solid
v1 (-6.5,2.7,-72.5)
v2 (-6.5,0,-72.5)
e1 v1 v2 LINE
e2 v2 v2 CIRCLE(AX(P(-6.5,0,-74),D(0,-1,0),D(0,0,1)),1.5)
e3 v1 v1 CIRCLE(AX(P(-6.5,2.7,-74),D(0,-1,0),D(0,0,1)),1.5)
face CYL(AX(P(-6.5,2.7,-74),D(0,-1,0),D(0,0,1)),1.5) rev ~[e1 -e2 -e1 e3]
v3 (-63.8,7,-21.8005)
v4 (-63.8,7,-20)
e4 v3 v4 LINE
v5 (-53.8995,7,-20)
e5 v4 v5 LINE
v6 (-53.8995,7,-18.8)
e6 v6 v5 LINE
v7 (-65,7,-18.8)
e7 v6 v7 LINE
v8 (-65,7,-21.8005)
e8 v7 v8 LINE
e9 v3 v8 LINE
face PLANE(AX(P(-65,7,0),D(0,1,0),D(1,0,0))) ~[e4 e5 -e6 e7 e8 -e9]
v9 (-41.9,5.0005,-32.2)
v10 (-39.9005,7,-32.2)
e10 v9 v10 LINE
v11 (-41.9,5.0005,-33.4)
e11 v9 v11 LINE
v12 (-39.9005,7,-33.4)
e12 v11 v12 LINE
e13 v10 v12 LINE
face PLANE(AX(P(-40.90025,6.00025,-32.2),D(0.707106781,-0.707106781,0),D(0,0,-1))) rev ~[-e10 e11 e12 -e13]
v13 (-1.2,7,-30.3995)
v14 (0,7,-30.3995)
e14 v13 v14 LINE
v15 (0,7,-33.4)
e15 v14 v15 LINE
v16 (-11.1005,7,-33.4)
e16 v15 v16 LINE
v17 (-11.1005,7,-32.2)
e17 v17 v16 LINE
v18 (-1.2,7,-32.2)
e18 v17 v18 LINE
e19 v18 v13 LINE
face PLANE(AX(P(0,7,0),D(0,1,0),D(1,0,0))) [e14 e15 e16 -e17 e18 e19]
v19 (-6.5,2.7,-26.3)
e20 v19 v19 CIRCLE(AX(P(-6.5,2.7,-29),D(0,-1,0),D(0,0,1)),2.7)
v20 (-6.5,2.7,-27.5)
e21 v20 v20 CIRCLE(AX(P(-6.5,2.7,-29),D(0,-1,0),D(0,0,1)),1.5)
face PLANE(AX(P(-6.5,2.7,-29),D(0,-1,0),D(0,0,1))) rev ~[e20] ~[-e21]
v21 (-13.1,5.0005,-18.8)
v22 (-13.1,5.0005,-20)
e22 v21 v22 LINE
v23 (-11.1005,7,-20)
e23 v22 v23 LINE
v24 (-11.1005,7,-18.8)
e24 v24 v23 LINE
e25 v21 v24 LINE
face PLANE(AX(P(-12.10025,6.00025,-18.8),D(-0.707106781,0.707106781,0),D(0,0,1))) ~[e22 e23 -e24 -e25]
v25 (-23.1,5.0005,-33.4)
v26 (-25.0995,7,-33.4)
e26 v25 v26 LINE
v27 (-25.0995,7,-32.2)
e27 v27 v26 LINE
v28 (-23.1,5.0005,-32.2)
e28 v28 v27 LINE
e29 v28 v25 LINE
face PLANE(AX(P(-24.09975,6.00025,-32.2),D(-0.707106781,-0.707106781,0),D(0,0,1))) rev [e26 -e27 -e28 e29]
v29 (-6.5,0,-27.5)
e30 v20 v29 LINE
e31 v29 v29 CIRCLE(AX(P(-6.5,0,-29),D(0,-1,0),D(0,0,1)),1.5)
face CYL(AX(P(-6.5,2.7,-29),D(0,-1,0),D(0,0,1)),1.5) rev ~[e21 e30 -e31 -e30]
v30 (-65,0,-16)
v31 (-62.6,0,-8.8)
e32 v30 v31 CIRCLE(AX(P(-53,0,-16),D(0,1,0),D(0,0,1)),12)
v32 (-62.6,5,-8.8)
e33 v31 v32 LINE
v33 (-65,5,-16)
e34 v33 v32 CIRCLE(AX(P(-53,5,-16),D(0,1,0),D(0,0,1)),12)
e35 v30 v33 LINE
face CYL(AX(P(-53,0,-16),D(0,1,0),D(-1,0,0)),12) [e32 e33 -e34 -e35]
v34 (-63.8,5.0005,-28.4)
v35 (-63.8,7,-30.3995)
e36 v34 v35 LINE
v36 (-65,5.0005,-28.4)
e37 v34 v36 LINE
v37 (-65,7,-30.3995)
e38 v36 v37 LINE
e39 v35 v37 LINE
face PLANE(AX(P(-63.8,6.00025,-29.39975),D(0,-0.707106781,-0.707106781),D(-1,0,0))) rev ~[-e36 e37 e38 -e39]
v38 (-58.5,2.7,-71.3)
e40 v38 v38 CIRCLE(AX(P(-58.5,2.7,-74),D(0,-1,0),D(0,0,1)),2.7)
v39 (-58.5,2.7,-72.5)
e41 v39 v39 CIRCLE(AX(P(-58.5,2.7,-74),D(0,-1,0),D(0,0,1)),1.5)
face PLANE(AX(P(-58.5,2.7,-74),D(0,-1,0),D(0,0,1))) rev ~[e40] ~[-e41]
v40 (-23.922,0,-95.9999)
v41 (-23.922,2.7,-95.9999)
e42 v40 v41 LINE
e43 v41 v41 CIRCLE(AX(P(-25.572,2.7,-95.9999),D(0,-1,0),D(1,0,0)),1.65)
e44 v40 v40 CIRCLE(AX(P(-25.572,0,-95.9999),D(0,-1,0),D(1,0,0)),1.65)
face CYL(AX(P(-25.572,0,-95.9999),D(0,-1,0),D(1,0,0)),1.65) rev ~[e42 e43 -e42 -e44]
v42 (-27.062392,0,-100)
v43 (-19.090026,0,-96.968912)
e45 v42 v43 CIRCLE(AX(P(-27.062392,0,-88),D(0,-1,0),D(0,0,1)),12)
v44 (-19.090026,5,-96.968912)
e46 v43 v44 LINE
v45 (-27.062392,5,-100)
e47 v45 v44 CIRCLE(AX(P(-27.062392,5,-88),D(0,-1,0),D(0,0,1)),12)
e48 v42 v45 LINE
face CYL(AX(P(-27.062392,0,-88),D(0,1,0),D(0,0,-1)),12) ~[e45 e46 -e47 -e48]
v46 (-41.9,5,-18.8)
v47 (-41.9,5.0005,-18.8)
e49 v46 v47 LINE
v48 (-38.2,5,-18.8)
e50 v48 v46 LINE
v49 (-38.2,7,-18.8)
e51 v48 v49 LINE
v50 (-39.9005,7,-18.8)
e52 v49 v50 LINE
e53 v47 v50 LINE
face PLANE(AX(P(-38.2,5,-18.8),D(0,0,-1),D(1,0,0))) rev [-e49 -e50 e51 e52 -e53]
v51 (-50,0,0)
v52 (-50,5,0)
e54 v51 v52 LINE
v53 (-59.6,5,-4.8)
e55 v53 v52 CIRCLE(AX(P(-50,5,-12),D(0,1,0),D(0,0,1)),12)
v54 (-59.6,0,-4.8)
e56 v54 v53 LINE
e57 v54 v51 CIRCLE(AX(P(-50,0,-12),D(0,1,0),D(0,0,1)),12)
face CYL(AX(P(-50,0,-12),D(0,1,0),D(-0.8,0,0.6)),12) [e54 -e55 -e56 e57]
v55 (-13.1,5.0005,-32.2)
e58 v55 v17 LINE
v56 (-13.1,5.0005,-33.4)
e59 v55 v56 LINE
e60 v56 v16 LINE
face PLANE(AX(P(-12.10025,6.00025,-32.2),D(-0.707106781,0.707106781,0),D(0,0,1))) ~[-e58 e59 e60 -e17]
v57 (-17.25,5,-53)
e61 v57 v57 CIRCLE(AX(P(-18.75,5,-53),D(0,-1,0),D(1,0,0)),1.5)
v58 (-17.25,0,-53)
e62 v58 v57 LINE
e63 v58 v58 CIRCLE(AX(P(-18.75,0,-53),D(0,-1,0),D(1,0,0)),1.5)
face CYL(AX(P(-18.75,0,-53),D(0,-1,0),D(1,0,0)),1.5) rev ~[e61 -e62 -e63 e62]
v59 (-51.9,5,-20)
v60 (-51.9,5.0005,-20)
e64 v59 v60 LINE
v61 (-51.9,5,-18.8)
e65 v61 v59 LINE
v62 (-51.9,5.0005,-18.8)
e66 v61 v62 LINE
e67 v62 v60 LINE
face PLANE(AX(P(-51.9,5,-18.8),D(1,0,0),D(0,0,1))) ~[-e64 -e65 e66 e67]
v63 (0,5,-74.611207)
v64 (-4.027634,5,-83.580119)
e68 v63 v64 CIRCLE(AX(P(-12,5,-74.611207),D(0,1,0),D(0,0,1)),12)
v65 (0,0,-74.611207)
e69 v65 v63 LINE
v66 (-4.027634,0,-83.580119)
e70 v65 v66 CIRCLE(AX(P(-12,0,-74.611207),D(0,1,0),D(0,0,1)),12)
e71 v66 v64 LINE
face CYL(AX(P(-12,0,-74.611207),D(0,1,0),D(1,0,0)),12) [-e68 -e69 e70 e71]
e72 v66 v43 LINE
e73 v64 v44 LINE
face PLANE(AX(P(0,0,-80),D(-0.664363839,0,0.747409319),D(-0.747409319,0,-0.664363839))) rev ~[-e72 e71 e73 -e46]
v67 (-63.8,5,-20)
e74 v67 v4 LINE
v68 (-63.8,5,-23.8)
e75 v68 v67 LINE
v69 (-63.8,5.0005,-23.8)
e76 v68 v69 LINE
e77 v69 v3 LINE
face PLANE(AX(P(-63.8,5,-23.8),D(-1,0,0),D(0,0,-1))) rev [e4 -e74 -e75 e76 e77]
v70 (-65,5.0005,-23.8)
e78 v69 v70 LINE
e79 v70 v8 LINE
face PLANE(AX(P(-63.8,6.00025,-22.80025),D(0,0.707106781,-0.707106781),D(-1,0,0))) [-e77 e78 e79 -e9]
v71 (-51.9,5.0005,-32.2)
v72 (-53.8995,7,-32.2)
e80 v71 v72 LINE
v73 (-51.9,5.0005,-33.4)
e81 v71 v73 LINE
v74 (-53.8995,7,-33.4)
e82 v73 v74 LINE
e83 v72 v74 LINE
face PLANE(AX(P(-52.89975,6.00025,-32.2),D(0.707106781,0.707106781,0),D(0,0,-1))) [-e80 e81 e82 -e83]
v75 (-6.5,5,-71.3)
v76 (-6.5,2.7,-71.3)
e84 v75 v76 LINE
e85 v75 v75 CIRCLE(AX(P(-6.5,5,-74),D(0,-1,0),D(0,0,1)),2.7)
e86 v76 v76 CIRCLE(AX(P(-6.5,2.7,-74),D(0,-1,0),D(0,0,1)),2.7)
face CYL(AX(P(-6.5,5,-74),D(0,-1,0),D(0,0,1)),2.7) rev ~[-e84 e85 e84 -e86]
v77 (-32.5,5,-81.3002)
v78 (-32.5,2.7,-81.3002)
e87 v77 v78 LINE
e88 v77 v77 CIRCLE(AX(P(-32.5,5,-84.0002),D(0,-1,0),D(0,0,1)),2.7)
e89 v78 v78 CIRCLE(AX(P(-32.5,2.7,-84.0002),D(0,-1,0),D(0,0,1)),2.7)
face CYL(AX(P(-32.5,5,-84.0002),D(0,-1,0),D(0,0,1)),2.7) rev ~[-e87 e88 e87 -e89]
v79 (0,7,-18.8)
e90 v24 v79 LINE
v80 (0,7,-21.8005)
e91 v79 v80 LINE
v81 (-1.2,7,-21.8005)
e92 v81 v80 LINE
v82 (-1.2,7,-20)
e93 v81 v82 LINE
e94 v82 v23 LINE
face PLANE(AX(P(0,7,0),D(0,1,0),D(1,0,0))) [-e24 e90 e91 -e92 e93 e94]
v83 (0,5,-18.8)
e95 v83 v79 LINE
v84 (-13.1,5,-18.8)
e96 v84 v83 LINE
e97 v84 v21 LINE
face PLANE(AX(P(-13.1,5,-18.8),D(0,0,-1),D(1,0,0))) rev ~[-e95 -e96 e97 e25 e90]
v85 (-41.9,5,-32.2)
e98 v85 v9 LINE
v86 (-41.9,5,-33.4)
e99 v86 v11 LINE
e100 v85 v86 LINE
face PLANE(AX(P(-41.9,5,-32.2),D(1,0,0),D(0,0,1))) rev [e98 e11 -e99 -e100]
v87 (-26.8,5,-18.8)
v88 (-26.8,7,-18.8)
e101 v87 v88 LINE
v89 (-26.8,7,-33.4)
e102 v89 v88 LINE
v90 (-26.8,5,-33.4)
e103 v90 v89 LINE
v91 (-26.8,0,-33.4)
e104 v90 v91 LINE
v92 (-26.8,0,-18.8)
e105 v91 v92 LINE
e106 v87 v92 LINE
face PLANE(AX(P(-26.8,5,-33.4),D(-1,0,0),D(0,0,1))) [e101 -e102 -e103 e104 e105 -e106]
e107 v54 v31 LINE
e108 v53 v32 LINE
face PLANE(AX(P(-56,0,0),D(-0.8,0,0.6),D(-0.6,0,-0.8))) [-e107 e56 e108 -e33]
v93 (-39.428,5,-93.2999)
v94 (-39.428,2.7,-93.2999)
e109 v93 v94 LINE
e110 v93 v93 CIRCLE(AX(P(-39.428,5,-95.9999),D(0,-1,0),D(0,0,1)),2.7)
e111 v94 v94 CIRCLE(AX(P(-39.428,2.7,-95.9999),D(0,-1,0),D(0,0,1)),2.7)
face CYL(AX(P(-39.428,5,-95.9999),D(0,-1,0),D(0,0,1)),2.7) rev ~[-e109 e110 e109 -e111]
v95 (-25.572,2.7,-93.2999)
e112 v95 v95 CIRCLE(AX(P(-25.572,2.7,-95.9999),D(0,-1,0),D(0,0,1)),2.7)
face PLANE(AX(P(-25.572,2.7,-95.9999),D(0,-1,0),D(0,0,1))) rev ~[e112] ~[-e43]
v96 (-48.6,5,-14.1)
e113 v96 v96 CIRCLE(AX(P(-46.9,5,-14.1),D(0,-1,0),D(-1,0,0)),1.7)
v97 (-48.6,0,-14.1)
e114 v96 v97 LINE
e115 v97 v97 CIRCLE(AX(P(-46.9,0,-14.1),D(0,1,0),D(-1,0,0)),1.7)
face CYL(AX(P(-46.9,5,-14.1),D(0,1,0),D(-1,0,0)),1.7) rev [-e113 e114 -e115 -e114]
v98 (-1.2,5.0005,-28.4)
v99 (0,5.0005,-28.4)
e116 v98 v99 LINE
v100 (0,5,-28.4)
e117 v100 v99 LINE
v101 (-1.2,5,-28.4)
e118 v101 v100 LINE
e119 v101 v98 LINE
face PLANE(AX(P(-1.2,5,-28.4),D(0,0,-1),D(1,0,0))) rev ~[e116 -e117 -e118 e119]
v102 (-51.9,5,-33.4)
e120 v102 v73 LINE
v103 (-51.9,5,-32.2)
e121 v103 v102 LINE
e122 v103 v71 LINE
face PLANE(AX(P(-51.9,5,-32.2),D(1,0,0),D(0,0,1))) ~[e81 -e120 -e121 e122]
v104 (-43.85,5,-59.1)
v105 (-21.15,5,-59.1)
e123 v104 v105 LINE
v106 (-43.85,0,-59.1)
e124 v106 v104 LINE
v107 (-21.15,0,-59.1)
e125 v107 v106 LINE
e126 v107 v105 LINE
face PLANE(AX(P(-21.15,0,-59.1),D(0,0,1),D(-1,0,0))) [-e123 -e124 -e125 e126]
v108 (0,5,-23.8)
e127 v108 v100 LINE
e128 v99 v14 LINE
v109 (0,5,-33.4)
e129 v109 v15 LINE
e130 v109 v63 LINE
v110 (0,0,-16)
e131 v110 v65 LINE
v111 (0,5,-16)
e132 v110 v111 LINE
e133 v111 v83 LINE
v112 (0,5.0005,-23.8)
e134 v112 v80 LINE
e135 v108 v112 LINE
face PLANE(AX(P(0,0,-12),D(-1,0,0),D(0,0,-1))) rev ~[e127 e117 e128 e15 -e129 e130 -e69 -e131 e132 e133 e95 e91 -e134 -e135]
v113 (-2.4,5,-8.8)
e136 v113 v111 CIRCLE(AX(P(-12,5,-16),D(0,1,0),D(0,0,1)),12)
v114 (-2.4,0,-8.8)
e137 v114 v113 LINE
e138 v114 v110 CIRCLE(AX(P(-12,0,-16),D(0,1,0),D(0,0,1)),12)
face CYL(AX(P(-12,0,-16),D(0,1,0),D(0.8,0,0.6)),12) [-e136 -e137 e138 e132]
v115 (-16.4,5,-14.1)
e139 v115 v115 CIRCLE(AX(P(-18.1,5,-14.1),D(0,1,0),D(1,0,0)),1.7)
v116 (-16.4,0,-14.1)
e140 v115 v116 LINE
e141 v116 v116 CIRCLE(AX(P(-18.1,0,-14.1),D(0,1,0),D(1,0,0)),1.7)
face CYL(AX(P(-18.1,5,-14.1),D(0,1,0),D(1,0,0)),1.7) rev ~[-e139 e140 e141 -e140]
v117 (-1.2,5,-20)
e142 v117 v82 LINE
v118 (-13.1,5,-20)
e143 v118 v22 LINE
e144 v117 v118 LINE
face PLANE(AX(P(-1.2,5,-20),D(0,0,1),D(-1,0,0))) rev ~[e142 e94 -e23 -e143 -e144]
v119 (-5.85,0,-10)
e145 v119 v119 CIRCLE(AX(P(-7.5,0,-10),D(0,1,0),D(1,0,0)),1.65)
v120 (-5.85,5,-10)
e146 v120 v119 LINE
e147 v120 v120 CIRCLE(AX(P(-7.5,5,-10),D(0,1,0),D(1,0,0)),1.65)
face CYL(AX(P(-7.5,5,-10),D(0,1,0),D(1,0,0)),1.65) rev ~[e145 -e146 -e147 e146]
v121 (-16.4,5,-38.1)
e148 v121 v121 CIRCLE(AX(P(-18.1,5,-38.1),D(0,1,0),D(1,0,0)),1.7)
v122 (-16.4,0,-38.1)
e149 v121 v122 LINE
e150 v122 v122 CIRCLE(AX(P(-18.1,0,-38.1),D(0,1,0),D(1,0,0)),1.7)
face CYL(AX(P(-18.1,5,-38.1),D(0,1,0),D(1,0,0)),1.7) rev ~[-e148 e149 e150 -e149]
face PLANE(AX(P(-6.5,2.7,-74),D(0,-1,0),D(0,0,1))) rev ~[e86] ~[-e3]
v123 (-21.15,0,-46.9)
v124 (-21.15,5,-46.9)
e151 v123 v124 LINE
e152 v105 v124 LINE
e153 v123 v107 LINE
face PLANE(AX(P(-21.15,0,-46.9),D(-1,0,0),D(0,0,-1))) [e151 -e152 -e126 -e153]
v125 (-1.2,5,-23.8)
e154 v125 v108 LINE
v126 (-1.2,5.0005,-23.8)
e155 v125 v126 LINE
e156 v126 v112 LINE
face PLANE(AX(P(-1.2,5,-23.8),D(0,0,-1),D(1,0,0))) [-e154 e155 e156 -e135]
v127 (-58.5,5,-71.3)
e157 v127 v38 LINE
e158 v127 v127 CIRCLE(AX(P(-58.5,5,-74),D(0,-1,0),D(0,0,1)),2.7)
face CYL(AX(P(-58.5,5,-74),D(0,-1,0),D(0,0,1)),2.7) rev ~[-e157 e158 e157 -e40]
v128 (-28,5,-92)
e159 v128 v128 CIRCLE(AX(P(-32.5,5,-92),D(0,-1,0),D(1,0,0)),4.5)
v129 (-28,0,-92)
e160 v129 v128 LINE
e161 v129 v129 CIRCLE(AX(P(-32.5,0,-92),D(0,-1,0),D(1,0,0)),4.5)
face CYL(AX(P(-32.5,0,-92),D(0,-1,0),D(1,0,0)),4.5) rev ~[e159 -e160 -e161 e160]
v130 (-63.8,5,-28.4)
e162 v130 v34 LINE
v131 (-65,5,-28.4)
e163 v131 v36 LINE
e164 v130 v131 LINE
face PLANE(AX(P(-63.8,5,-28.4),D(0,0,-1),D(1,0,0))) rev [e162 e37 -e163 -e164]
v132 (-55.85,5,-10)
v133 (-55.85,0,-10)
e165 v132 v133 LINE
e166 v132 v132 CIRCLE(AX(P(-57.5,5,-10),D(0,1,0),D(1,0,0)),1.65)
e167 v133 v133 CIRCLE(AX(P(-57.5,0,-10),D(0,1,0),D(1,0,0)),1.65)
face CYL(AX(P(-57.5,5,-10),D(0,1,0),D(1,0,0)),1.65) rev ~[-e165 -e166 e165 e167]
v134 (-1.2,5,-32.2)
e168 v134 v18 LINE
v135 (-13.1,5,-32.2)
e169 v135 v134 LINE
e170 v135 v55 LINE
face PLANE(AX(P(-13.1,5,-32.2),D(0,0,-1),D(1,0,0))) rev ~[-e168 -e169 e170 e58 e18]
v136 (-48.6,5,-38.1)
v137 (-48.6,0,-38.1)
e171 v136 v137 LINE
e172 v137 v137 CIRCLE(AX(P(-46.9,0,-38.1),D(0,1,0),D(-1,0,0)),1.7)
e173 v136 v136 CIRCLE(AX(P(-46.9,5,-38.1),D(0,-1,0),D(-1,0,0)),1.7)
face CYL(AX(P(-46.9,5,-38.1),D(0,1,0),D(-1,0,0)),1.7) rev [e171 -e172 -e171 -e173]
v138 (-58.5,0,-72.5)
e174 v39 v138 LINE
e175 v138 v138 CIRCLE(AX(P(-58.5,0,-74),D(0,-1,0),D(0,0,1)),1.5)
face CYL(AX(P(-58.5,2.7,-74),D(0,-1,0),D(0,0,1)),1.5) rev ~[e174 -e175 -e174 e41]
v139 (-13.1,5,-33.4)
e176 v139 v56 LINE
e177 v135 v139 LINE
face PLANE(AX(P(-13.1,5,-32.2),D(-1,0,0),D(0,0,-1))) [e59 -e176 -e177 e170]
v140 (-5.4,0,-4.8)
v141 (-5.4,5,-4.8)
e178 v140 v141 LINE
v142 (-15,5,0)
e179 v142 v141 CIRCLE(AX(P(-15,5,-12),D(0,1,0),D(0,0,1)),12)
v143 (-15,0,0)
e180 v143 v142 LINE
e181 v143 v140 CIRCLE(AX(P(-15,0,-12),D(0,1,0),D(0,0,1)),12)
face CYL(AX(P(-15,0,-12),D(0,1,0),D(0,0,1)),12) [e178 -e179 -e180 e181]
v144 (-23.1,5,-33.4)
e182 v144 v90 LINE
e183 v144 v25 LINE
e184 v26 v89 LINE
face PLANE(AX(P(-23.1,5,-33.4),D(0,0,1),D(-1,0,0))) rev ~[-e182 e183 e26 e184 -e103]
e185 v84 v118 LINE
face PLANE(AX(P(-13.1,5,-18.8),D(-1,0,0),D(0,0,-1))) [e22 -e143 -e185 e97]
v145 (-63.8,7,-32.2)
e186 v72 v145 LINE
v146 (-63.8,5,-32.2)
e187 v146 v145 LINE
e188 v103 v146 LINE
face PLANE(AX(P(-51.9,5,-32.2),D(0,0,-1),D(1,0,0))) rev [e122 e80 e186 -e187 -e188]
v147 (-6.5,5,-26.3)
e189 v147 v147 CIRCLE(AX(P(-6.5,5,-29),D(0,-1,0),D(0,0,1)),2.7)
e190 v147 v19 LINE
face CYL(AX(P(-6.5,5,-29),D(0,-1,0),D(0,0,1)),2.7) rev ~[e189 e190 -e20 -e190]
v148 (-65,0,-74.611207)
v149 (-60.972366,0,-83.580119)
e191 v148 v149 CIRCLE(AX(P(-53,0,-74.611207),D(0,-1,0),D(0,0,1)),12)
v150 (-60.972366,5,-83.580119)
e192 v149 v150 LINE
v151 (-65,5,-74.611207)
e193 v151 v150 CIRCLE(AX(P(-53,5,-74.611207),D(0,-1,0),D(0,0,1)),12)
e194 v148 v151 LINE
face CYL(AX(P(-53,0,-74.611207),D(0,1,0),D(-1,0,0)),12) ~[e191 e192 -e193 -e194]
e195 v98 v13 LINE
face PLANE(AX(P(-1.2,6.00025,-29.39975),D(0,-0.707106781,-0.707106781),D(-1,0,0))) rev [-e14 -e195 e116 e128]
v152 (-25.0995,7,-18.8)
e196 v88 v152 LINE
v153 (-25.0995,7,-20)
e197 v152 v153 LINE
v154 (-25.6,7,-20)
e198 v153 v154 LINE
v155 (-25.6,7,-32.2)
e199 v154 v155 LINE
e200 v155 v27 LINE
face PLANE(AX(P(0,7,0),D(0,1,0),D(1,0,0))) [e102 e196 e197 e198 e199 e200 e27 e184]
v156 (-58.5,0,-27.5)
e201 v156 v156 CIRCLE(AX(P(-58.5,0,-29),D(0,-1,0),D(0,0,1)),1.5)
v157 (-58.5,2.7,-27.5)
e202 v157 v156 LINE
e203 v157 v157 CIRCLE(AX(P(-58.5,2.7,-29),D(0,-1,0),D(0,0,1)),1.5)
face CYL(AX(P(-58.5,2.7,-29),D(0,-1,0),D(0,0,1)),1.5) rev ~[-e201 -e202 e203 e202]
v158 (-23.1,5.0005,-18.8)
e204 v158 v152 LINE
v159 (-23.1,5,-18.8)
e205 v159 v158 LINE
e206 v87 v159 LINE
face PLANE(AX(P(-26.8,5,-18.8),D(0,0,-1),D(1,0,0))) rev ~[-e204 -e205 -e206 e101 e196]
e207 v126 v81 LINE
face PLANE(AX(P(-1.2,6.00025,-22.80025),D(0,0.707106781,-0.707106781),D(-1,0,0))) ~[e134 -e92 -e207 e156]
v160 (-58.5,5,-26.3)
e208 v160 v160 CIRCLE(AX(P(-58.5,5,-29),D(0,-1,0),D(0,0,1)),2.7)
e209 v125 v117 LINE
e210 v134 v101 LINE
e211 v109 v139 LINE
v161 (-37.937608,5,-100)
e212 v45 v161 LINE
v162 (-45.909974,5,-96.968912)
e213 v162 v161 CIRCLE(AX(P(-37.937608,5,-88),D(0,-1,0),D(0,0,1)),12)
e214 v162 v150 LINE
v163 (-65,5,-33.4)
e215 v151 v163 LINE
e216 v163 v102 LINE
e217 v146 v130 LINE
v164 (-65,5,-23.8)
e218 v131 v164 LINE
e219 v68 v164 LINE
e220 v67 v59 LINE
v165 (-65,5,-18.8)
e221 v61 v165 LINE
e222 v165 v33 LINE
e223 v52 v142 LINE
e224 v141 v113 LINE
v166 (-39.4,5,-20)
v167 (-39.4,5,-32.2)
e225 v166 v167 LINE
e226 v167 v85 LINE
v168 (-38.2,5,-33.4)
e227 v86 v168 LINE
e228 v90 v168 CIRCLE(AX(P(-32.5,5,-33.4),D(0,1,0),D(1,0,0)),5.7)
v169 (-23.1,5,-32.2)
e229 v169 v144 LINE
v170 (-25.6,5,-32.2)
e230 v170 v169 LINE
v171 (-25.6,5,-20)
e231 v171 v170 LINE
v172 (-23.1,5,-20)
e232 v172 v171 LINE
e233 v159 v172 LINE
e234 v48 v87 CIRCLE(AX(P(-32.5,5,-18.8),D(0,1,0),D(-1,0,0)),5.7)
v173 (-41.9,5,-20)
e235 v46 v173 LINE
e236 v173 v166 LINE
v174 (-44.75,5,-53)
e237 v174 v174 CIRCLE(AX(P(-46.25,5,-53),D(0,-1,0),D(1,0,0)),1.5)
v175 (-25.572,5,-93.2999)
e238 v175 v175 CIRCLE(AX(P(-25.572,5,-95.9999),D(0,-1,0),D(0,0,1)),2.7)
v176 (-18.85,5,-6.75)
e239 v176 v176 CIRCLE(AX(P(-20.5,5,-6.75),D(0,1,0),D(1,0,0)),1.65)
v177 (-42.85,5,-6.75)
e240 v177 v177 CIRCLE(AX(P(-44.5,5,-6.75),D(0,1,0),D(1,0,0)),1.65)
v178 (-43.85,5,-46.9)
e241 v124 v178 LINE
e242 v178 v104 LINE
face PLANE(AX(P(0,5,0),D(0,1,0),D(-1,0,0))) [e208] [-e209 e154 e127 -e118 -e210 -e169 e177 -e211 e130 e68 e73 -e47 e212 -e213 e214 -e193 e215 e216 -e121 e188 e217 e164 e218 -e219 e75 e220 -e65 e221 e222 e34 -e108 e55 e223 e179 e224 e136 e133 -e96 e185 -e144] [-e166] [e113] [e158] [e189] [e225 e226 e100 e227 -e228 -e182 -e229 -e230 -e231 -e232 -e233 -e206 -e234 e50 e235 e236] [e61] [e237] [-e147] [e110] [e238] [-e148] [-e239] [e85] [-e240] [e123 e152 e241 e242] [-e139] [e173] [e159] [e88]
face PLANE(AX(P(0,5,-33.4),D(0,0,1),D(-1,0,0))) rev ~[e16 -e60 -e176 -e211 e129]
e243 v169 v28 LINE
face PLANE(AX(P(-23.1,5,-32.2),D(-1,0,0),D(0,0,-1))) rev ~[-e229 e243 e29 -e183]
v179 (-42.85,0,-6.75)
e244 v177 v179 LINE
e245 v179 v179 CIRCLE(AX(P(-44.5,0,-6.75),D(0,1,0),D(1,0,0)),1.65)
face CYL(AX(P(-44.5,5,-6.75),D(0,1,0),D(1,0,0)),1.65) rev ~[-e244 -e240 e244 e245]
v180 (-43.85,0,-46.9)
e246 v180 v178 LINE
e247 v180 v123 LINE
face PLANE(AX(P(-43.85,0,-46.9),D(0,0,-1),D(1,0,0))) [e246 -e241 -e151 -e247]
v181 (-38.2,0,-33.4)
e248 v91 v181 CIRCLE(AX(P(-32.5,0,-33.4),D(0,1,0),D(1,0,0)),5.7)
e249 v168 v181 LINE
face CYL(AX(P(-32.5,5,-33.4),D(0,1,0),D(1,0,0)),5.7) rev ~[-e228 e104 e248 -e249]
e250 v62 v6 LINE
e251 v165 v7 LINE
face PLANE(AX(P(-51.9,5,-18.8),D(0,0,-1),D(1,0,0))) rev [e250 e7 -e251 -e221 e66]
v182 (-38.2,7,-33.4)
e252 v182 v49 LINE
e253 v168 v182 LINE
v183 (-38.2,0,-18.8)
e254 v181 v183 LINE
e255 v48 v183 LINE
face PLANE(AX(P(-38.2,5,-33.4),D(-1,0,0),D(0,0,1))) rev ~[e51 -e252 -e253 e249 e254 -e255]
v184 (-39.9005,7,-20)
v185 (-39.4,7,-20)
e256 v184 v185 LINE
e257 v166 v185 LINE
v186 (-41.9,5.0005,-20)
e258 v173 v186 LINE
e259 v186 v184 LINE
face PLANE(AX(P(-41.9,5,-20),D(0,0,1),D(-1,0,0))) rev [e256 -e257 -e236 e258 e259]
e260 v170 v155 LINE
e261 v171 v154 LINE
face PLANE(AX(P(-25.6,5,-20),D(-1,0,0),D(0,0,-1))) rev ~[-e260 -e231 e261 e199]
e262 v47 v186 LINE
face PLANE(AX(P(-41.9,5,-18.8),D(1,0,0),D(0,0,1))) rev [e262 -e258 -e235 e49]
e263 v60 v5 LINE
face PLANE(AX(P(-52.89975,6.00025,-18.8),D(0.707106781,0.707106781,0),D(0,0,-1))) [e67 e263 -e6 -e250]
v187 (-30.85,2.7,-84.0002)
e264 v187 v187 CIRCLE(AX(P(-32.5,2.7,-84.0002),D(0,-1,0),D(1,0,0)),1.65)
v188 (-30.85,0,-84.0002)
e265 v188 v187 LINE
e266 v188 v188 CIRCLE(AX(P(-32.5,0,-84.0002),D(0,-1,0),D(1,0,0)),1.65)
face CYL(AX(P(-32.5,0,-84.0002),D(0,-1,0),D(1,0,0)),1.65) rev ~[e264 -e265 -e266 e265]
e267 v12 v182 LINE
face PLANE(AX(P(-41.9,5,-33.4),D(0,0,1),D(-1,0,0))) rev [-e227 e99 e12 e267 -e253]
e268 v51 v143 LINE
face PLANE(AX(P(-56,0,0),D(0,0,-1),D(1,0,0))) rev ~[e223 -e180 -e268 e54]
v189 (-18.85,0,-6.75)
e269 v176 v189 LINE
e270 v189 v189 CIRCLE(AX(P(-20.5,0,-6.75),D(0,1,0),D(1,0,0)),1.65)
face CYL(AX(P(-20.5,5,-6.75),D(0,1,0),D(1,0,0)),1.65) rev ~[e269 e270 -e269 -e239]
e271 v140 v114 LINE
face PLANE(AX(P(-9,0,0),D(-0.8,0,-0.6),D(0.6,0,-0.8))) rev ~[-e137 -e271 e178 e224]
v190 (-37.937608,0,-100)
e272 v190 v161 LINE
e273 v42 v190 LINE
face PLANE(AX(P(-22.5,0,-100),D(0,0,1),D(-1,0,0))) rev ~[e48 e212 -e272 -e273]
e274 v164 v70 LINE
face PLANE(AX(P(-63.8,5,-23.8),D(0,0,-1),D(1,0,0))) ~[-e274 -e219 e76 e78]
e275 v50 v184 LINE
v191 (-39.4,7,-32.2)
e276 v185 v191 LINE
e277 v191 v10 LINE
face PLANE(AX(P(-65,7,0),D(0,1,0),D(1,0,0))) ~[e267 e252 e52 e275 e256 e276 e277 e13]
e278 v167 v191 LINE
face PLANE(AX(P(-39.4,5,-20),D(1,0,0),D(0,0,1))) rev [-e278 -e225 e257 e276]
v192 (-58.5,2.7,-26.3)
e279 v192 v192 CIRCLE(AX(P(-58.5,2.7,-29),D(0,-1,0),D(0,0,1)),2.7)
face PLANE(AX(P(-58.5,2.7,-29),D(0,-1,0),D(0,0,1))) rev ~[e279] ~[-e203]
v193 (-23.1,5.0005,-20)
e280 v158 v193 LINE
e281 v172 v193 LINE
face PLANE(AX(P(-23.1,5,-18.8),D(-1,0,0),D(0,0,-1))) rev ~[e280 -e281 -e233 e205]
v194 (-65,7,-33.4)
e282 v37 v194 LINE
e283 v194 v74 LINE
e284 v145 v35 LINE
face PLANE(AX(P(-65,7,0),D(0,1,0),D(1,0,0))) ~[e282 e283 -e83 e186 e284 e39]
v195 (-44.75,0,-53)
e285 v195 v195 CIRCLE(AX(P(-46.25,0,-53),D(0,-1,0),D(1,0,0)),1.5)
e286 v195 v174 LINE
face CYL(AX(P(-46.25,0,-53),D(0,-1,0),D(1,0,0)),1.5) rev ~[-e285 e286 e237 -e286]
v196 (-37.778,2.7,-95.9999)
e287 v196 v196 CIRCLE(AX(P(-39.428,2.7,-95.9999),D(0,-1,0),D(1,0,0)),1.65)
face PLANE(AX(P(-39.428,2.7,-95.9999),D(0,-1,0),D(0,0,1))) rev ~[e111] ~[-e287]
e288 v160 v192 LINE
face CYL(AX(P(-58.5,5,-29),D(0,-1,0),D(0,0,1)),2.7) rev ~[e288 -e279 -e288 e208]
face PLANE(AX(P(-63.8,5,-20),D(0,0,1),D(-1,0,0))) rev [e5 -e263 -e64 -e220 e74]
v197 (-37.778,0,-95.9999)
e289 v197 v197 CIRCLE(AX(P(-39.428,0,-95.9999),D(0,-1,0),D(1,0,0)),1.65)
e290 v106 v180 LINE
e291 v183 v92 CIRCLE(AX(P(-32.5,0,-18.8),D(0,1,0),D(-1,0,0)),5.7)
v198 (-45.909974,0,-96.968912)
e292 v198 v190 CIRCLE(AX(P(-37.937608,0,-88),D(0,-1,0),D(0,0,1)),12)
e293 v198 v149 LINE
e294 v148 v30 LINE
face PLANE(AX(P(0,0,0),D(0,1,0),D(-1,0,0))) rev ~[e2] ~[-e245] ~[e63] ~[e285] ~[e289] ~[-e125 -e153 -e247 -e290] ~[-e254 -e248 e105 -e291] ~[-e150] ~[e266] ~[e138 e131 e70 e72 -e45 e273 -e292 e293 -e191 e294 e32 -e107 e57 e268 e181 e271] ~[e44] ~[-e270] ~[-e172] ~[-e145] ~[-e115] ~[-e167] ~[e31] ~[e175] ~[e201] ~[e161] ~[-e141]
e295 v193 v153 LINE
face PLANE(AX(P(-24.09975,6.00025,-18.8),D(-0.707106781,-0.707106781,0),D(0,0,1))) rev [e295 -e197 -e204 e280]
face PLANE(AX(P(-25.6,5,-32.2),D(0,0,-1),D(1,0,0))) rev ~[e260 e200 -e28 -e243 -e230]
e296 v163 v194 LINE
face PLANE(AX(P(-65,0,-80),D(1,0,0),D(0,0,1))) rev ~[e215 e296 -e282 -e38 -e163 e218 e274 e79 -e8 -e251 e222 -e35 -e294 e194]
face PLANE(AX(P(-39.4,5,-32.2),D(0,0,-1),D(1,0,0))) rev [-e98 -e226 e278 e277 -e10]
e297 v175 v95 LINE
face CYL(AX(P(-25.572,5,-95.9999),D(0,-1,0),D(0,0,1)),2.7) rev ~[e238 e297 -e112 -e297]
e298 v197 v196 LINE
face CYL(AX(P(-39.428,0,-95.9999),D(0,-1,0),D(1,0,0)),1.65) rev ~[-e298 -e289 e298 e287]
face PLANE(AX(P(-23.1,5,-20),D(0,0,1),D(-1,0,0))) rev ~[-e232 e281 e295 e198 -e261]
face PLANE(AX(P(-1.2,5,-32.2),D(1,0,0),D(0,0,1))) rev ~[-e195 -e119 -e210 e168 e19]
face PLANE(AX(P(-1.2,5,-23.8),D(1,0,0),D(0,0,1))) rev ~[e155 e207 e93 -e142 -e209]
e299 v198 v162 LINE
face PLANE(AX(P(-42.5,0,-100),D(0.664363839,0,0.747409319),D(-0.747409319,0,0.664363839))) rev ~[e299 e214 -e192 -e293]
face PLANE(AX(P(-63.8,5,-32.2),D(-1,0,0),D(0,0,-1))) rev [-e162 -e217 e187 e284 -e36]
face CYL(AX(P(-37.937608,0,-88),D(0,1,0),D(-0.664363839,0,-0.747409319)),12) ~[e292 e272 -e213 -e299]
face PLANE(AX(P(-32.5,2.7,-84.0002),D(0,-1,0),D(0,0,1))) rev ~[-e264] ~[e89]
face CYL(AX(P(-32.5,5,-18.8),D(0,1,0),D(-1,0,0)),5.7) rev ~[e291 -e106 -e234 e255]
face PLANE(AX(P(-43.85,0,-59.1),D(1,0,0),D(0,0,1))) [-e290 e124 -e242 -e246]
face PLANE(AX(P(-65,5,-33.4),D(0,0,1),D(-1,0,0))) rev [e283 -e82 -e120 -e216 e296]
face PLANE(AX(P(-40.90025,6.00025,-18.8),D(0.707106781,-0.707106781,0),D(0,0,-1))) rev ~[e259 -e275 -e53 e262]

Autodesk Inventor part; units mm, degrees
ref_plane "YZ Plane" through (0, 0, 0) normal (1, 0, 0) x (0, 1, 0)
ref_plane "XZ Plane" through (0, 0, 0) normal (0, 1, 0) x (-1, 0, 0)
sketch "Sketch1" plane through (0, 0, 0) normal (0, 1, 0) x (-1, 0, 0)
  line L0 (0, 0) -> (0, -80)
  line L1 (22.5, -100) -> (42.5, -100)
  line L2 (42.5, -100) -> (65, -80)
  line L3 (65, -80) -> (65, 0)
  line L4 (65, 0) -> (0, 0)
  line L5 (65, -80) -> (0, -80) construction
  line L6 (0, -80) -> (22.5, -100)
  line L7 (32.5, -100) -> (32.5, -80) construction
  line L8 (56, 0) -> (65, -12)
  line L9 (9, 0) -> (0, -12)
  dimension "d0" = 65
  dimension "d1" = 80
  dimension "d2" = 20
  dimension "d3" = 20
  dimension "d66" = 9
  dimension "d67" = 9
  dimension "d68" = 12
  dimension "d69" = 12
extrude "Extrusion1" add sketch "Sketch1" along normal blind 5 contours L9 L4 L8 L3 L2 L1 L6 L0
sketch "Sketch2" plane through (0, 5, 0) normal (0, 1, 0) x (1, 0, 0)
  line L0 (-1.2, 20) -> (-25.6, 20)
  line L1 (-25.6, 20) -> (-25.6, 32.2)
  line L2 (-25.6, 32.2) -> (-1.2, 32.2)
  line L3 (-1.2, 32.2) -> (-1.2, 20)
  line L4 (0, 33.4) -> (-26.8, 33.4)
  line L5 (-26.8, 33.4) -> (-26.8, 18.8)
  line L6 (-26.8, 18.8) -> (0, 18.8)
  line L7 (0, 18.8) -> (0, 33.4)
  line L8 (-56, 0) -> (0, 0) projected
  line L9 (-1.2, 23.8) -> (0, 23.8)
  line L10 (-1.2, 28.4) -> (0, 28.4)
  line L11 (0, 0) -> (0, 80) projected
  line L12 (-23.1, 18.8) -> (-23.1, 33.4)
  line L13 (-13.1, 18.8) -> (-13.1, 33.4)
  point P0 (-65, 0)
  point P1 (0, 28.4)
  point P2 (-13.1, 32.2)
  point P3 (-13.1, 20)
  point P4 (-23.1, 32.2)
  point P5 (-23.1, 20)
  dimension "d6" = 1.2
  dimension "d7" = 12.2
  dimension "d8" = 24.4
  dimension "d9" = 20
  dimension "d12" = 5
  dimension "d13" = 5
  dimension "d17" = 10
  dimension "d19" = 2.5
extrude "Extrusion2" add sketch "Sketch2" along normal blind 2 contours L3 L9 L7 L6 L13 L0 | L12 L6 L5 L4 L2 L1 L0 | L13 L4 L7 L10 L3 L2
chamfer "Chamfer1" distance 2 angle 45 6 edges at (-0.6, 7, -23.8) (-0.6, 7, -28.4) (-13.1, 7, -19.4) (-23.1, 7, -19.4) (-23.1, 7, -32.8) (-13.1, 7, -32.8)
ref_plane "Work Plane1" through (-32.5, 0, 0) normal (1, 0, 0) x (0, 0, -1)
sketch "Sketch3" plane through (0, 5, 0) normal (0, 1, 0) x (1, 0, 0)
  line L0 (-25.1, 18.8) -> (-23.1, 18.8) projected
  line L1 (-13.1, 33.4) -> (0, 33.4) projected
  line L2 (-23.1, 18.8) -> (-13.1, 33.4) construction
  line L3 (-18.1, 26.1) -> (-18.1, 38.1) construction
  line L4 (-18.1, 26.1) -> (-18.1, 14.1) construction
  circle A0 centre (-18.1, 14.1) radius 1.7
  circle A1 centre (-18.1, 38.1) radius 1.7
  point P0 (0, 0)
  dimension "d20" = 24
  dimension "d21" = 3.4
extrude "Extrusion3" cut sketch "Sketch3" against normal through all
mirror "Mirror1" about plane through (-32.5, 0, 0) normal (1, 0, 0) of "Extrusion2", "Extrusion3", "Chamfer1"
sketch "Sketch4" plane through (0, 0, 0) normal (0, -1, 0) x (1, 0, 0)
  line L0 (-22.5, -100) -> (-42.5, -100) projected
  line L1 (-32.5, -100) -> (-32.5, -92) construction
  circle A0 centre (-32.5, -92) radius 4.5
  line L2 (-42.2859, -97.6499) -> (-22.7141, -97.6499) construction
  line L3 (-42.2859, -97.6499) -> (-32.5, -80.7002) construction
  line L4 (-32.5, -80.7002) -> (-22.7141, -97.6499) construction
  line L5 (-37.3929, -89.1751) -> (-22.7141, -97.6499) construction
  circle A1 centre (-32.5, -84.0002) radius 1.65
  circle A2 centre (-25.572, -95.9999) radius 1.65
  circle A3 centre (-39.428, -95.9999) radius 1.65
  point P0 (0, 0)
  point P1 (-32.5, -97.6499)
  dimension "d24" = 9
  dimension "d25" = 13.856
  dimension "d26" = 3.3
  dimension "d27" = 8
extrude "Extrusion4" cut sketch "Sketch4" against normal through all
sketch "Sketch5" plane through (0, 0, 0) normal (0, -1, 0) x (1, 0, 0)
  line L0 (-65, -80) -> (-65, -33.4) projected
  line L1 (-65, -53) -> (0, -53) construction
  line L2 (-56, 0) -> (0, 0) projected
  line L3 (-43.85, -46.9) -> (-21.15, -46.9)
  line L4 (-21.15, -46.9) -> (-21.15, -59.1)
  line L5 (-21.15, -59.1) -> (-43.85, -59.1)
  line L6 (-43.85, -59.1) -> (-43.85, -46.9)
  line L7 (-43.85, -46.9) -> (-21.15, -59.1) construction
  line L8 (-21.15, -46.9) -> (-43.85, -59.1) construction
  line L9 (0, 0) -> (0, -80) projected
  circle A0 centre (-46.25, -53) radius 1.5
  circle A1 centre (-18.75, -53) radius 1.5
  point P0 (-65, 0)
  point P1 (-32.5, -53)
  dimension "d30" = 53
  dimension "d31" = 22.7
  dimension "d32" = 12.2
  dimension "d33" = 13.75
  dimension "d34" = 13.75
  dimension "d35" = 3
extrude "Extrusion5" cut sketch "Sketch5" against normal through all
sketch "Sketch6" plane through (0, 5, 0) normal (0, 1, 0) x (1, 0, 0)
  line L0 (-44.5, 6.75) -> (-20.5, 6.75) construction
  circle A0 centre (-44.5, 6.75) radius 1.65
  circle A1 centre (-20.5, 6.75) radius 1.65
  line L1 (-32.5, 6.75) -> (-32.5, 0) construction
  line L2 (-56, 0) -> (-9, 0) projected
  point P0 (-65, 0)
  dimension "d38" = 3.3
  dimension "d40" = 24
extrude "Extrusion6" cut sketch "Sketch6" against normal through all
sketch "Sketch7" plane through (0, 5, 0) normal (0, 1, 0) x (1, 0, 0)
  line L0 (-32.5, 120) -> (-32.5, -20) projected
  line L1 (-57.5, 10) -> (-7.5, 10) construction
  line L2 (-56, 0) -> (0, 0) projected
  circle A0 centre (-57.5, 10) radius 1.65
  circle A1 centre (-7.5, 10) radius 1.65
  point P0 (-32.5, 10)
  point P1 (-65, 0)
  dimension "d43" = 10
  dimension "d44" = 3.3
  dimension "d45" = 50
extrude "Extrusion7" cut sketch "Sketch7" against normal through all
sketch "Sketch8" plane through (0, 5, 0) normal (0, 1, 0) x (1, 0, 0)
  line L0 (-32.5, 120) -> (-32.5, -20) projected
  line L1 (-6.5, 74) -> (-58.5, 74) construction
  line L2 (-6.5, 29) -> (-58.5, 29) construction
  line L3 (-56, 0) -> (0, 0) projected
  circle A0 centre (-39.428, 95.9999) radius 1.65 projected
  circle A1 centre (-32.5, 84.0002) radius 1.65 projected
  circle A2 centre (-25.572, 95.9999) radius 1.65 projected
  point P0 (-32.5, 29)
  point P1 (-32.5, 74)
  point P2 (-65, 0)
  dimension "d48" = 45
  dimension "d49" = 52
  dimension "d50" = 29
hole "Hole1" at (-6.5, 5, -74) at (-6.5, 5, -29) at (-58.5, 5, -29) at (-58.5, 5, -74) at (-32.5, 5, -84.0002) at (-39.428, 5, -95.9999) at (-25.572, 5, -95.9999) direction (0, -1, 0) diameter 3 end through all counterbore diameter 5.4 counterbore depth 2.3
fillet "Fillet1" radius 12 8 edges at (-65, 2.5, -12) (-56, 2.5, 0) (-65, 2.5, -80) (-42.5, 2.5, -100) (-22.5, 2.5, -100) (0, 2.5, -80) (0, 2.5, -12) (-9, 2.5, 0)
sketch "Sketch12" plane through (0, 5, 0) normal (0, 1, 0) x (1, 0, 0)
  arc A0 (-65, 16) -> (-62.6, 8.8) centre (-53, 16) ccw projected
  line L0 (-65, 18.8) -> (-65, 16) projected
  line L1 (-65, 18.8) -> (-65, 21.8) projected
  line L2 (-65, 23.8) -> (-65, 21.8) projected
  line L3 (-65, 28.4) -> (-65, 23.8) projected
  line L4 (-65, 30.4) -> (-65, 28.4) projected
  line L5 (-65, 30.4) -> (-65, 33.4) projected
  line L6 (-65, 74.6112) -> (-65, 33.4) projected
  arc A1 (-60.9724, 83.5801) -> (-65, 74.6112) centre (-53, 74.6112) ccw projected
  line L7 (-45.91, 96.9689) -> (-60.9724, 83.5801) projected
  arc A2 (-37.9376, 100) -> (-45.91, 96.9689) centre (-37.9376, 88) ccw projected
  line L8 (-27.0624, 100) -> (-37.9376, 100) projected
  arc A3 (-19.09, 96.9689) -> (-27.0624, 100) centre (-27.0624, 88) ccw projected
  line L9 (-4.0276, 83.5801) -> (-19.09, 96.9689) projected
  arc A4 (0, 74.6112) -> (-4.0276, 83.5801) centre (-12, 74.6112) ccw projected
  line L10 (0, 33.4) -> (0, 74.6112) projected
  line L11 (0, 30.4) -> (0, 33.4) projected
  line L12 (0, 28.4) -> (0, 30.4) projected
  line L13 (0, 23.8) -> (0, 28.4) projected
  line L14 (0, 21.8) -> (0, 23.8) projected
  line L15 (0, 18.8) -> (0, 21.8) projected
  line L16 (0, 16) -> (0, 18.8) projected
  arc A5 (-2.4, 8.8) -> (0, 16) centre (-12, 16) ccw projected
  line L17 (-5.4, 4.8) -> (-2.4, 8.8) projected
  arc A6 (-15, 0) -> (-5.4, 4.8) centre (-15, 12) ccw projected
  line L18 (-50, 0) -> (-15, 0) projected
  arc A7 (-59.6, 4.8) -> (-50, 0) centre (-50, 12) ccw projected
  line L19 (-62.6, 8.8) -> (-59.6, 4.8) projected
  line L20 (-62, 33.4) -> (-62, 30.4)
  line L21 (-62, 30.4) -> (-62, 28.4)
  line L22 (-62, 28.4) -> (-62, 23.8)
  line L23 (-62, 23.8) -> (-62, 21.8)
  line L24 (-62, 21.8) -> (-62, 18.8)
  line L25 (-62, 18.8) -> (-62, 16)
  arc A8 (-62, 16) -> (-60.2, 10.6) centre (-53, 16) ccw
  line L26 (-60.2, 10.6) -> (-57.2, 6.6)
  arc A9 (-57.2, 6.6) -> (-50, 3) centre (-50, 12) ccw
  line L27 (-50, 3) -> (-15, 3)
  arc A10 (-15, 3) -> (-7.8, 6.6) centre (-15, 12) ccw
  line L28 (-7.8, 6.6) -> (-4.8, 10.6)
  arc A11 (-4.8, 10.6) -> (-3, 16) centre (-12, 16) ccw
  line L29 (-3, 16) -> (-3, 18.8)
  line L30 (-3, 18.8) -> (-3, 21.8)
  line L31 (-3, 21.8) -> (-3, 23.8)
  line L32 (-3, 23.8) -> (-3, 28.4)
  line L33 (-3, 28.4) -> (-3, 30.4)
  line L34 (-3, 30.4) -> (-3, 33.4)
  line L35 (-3, 33.4) -> (-3, 74.6112)
  arc A12 (-3, 74.6112) -> (-6.0207, 81.3379) centre (-12, 74.6112) ccw
  line L36 (-6.0207, 81.3379) -> (-21.0831, 94.7267)
  arc A13 (-21.0831, 94.7267) -> (-27.0624, 97) centre (-27.0624, 88) ccw
  line L37 (-27.0624, 97) -> (-37.9376, 97)
  arc A14 (-37.9376, 97) -> (-43.9169, 94.7267) centre (-37.9376, 88) ccw
  line L38 (-43.9169, 94.7267) -> (-58.9793, 81.3379)
  arc A15 (-58.9793, 81.3379) -> (-62, 74.6112) centre (-53, 74.6112) ccw
  line L39 (-62, 74.6112) -> (-62, 33.4)
  arc A16 (-15, 0) -> (-5.4, 4.8) centre (-15, 12) ccw projected
  line L40 (-5.4, 4.8) -> (-2.4, 8.8) projected
  arc A17 (-2.4, 8.8) -> (0, 16) centre (-12, 16) ccw projected
  line L41 (0, 16) -> (0, 18.8) projected
  line L42 (0, 18.8) -> (-13.1, 18.8) projected
  line L43 (-13.1, 18.8) -> (-13.1, 20) projected
  line L44 (-13.1, 20) -> (-1.2, 20) projected
  line L45 (-1.2, 20) -> (-1.2, 23.8) projected
  line L46 (-1.2, 23.8) -> (0, 23.8) projected
  line L47 (0, 23.8) -> (0, 28.4) projected
  line L48 (0, 28.4) -> (-1.2, 28.4) projected
  line L49 (-1.2, 28.4) -> (-1.2, 32.2) projected
  line L50 (-1.2, 32.2) -> (-13.1, 32.2) projected
  line L51 (-13.1, 32.2) -> (-13.1, 33.4) projected
  line L52 (-13.1, 33.4) -> (0, 33.4) projected
  line L53 (0, 33.4) -> (0, 74.6112) projected
  arc A18 (0, 74.6112) -> (-4.0276, 83.5801) centre (-12, 74.6112) ccw projected
  line L54 (-4.0276, 83.5801) -> (-19.09, 96.9689) projected
  arc A19 (-19.09, 96.9689) -> (-27.0624, 100) centre (-27.0624, 88) ccw projected
  line L55 (-27.0624, 100) -> (-37.9376, 100) projected
  arc A20 (-37.9376, 100) -> (-45.91, 96.9689) centre (-37.9376, 88) ccw projected
  line L56 (-45.91, 96.9689) -> (-60.9724, 83.5801) projected
  arc A21 (-60.9724, 83.5801) -> (-65, 74.6112) centre (-53, 74.6112) ccw projected
  line L57 (-65, 74.6112) -> (-65, 33.4) projected
  line L58 (-65, 33.4) -> (-51.9, 33.4) projected
  line L59 (-51.9, 33.4) -> (-51.9, 32.2) projected
  line L60 (-51.9, 32.2) -> (-63.8, 32.2) projected
  line L61 (-63.8, 32.2) -> (-63.8, 28.4) projected
  line L62 (-63.8, 28.4) -> (-65, 28.4) projected
  line L63 (-65, 28.4) -> (-65, 23.8) projected
  line L64 (-65, 23.8) -> (-63.8, 23.8) projected
  line L65 (-63.8, 23.8) -> (-63.8, 20) projected
  line L66 (-63.8, 20) -> (-51.9, 20) projected
  line L67 (-51.9, 20) -> (-51.9, 18.8) projected
  line L68 (-51.9, 18.8) -> (-65, 18.8) projected
  line L69 (-65, 18.8) -> (-65, 16) projected
  arc A22 (-65, 16) -> (-62.6, 8.8) centre (-53, 16) ccw projected
  line L70 (-62.6, 8.8) -> (-59.6, 4.8) projected
  arc A23 (-59.6, 4.8) -> (-50, 0) centre (-50, 12) ccw projected
  line L71 (-50, 0) -> (-15, 0) projected
  line L72 (-39.4, 20) -> (-39.4, 32.2) projected
  line L73 (-39.4, 32.2) -> (-41.9, 32.2) projected
  line L74 (-41.9, 32.2) -> (-41.9, 33.4) projected
  line L75 (-41.9, 33.4) -> (-38.2, 33.4) projected
  line L76 (-38.2, 33.4) -> (-38.2, 18.8) projected
  line L77 (-38.2, 18.8) -> (-41.9, 18.8) projected
  line L78 (-41.9, 18.8) -> (-41.9, 20) projected
  line L79 (-41.9, 20) -> (-39.4, 20) projected
  circle A24 centre (-18.1, 38.1) radius 1.7 projected
  circle A25 centre (-18.1, 14.1) radius 1.7 projected
  line L80 (-25.6, 32.2) -> (-25.6, 20) projected
  line L81 (-25.6, 20) -> (-23.1, 20) projected
  line L82 (-23.1, 20) -> (-23.1, 18.8) projected
  line L83 (-23.1, 18.8) -> (-26.8, 18.8) projected
  line L84 (-26.8, 18.8) -> (-26.8, 33.4) projected
  line L85 (-26.8, 33.4) -> (-23.1, 33.4) projected
  line L86 (-23.1, 33.4) -> (-23.1, 32.2) projected
  line L87 (-23.1, 32.2) -> (-25.6, 32.2) projected
  circle A26 centre (-46.9, 14.1) radius 1.7 projected
  circle A27 centre (-46.9, 38.1) radius 1.7 projected
  circle A28 centre (-32.5, 92) radius 4.5 projected
  circle A29 centre (-18.75, 53) radius 1.5 projected
  line L88 (-21.15, 46.9) -> (-43.85, 46.9) projected
  line L89 (-43.85, 46.9) -> (-43.85, 59.1) projected
  line L90 (-43.85, 59.1) -> (-21.15, 59.1) projected
  line L91 (-21.15, 59.1) -> (-21.15, 46.9) projected
  circle A30 centre (-46.25, 53) radius 1.5 projected
  circle A31 centre (-44.5, 6.75) radius 1.65 projected
  circle A32 centre (-20.5, 6.75) radius 1.65 projected
  circle A33 centre (-57.5, 10) radius 1.65 projected
  circle A34 centre (-7.5, 10) radius 1.65 projected
  circle A35 centre (-25.572, 95.9999) radius 2.7 projected
  circle A36 centre (-32.5, 84.0002) radius 2.7 projected
  circle A37 centre (-58.5, 29) radius 2.7 projected
  circle A38 centre (-6.5, 74) radius 2.7 projected
  circle A39 centre (-6.5, 29) radius 2.7 projected
  circle A40 centre (-58.5, 74) radius 2.7 projected
  circle A41 centre (-39.428, 95.9999) radius 2.7 projected
  line L92 (-9.7823, 43.7283) -> (-9.7823, 63.7283) construction
  line L93 (-3.4383, 43.7283) -> (-3.4383, 63.7283)
  line L94 (-16.1263, 63.7283) -> (-16.1263, 43.7283)
  arc A42 (-16.1263, 43.7283) -> (-3.4383, 43.7283) centre (-9.7823, 43.7283) ccw
  arc A43 (-3.4383, 63.7283) -> (-16.1263, 63.7283) centre (-9.7823, 63.7283) ccw
  line L95 (-32.5, 0) -> (-32.5, 100)
  circle A44 centre (-32.5, 84.0002) radius 4.5
  line L96 (-32.5, 75.0002) -> (-18.8145, 98.7043)
  line L97 (-32.5, 75.0002) -> (-47.7486, 101.4116)
  circle A45 centre (-39.428, 95.9999) radius 4.5 construction
  line L98 (-32.5, 13) -> (-32.5, 36.9) construction
  line L99 (-38, 13) -> (-38, 36.9)
  line L100 (-27, 36.9) -> (-27, 13)
  arc A46 (-38, 13) -> (-27, 13) centre (-32.5, 13) ccw
  arc A47 (-27, 36.9) -> (-38, 36.9) centre (-32.5, 36.9) ccw
  circle A48 centre (-27.5, 64.6863) radius 3
  circle A49 centre (-20.3437, 90.0556) radius 3
  circle A50 centre (-11.1883, 81.9174) radius 3
  circle A51 centre (-27.5, 77.6605) radius 3
  line L101 (-25.3214, 62.6239) -> (-9.0097, 79.855)
  line L102 (-30.5, 64.6863) -> (-30.5, 77.6605)
  line L103 (-61.5617, 43.7283) -> (-61.5617, 63.7283)
  line L104 (-48.8737, 63.7283) -> (-48.8737, 43.7283)
  arc A52 (-61.5617, 43.7283) -> (-48.8737, 43.7283) centre (-55.2177, 43.7283) ccw
  arc A53 (-48.8737, 63.7283) -> (-61.5617, 63.7283) centre (-55.2177, 63.7283) ccw
  circle A54 centre (-37.5, 64.6863) radius 3
  circle A55 centre (-44.6563, 90.0556) radius 3
  circle A56 centre (-53.8117, 81.9174) radius 3
  circle A57 centre (-37.5, 77.6605) radius 3
  line L105 (-39.6786, 62.6239) -> (-55.9903, 79.855)
  line L106 (-34.5, 64.6863) -> (-34.5, 77.6605)
  line L107 (-18.0582, 22.7364) -> (-18.0582, 30.5446) construction
  line L108 (-21.9699, 22.7364) -> (-21.9699, 30.5446)
  line L109 (-14.1465, 30.5446) -> (-14.1465, 22.7364)
  arc A58 (-21.9699, 22.7364) -> (-14.1465, 22.7364) centre (-18.0582, 22.7364) ccw
  arc A59 (-14.1465, 30.5446) -> (-21.9699, 30.5446) centre (-18.0582, 30.5446) ccw
  line L110 (-43.0301, 22.7364) -> (-43.0301, 30.5446)
  line L111 (-50.8535, 30.5446) -> (-50.8535, 22.7364)
  arc A60 (-50.8535, 22.7364) -> (-43.0301, 22.7364) centre (-46.9418, 22.7364) ccw
  arc A61 (-43.0301, 30.5446) -> (-50.8535, 30.5446) centre (-46.9418, 30.5446) ccw
  line L112 (-46.6077, 6.8915) -> (-50.8118, 6.8915) construction
  line L113 (-46.6077, 3.3915) -> (-50.8118, 3.3915)
  line L114 (-50.8118, 10.3915) -> (-46.6077, 10.3915)
  arc A62 (-46.6077, 3.3915) -> (-46.6077, 10.3915) centre (-46.6077, 6.8915) ccw
  arc A63 (-50.8118, 10.3915) -> (-50.8118, 3.3915) centre (-50.8118, 6.8915) ccw
  line L115 (-18.3923, 3.3915) -> (-14.1882, 3.3915)
  line L116 (-14.1882, 10.3915) -> (-18.3923, 10.3915)
  arc A64 (-18.3923, 10.3915) -> (-18.3923, 3.3915) centre (-18.3923, 6.8915) ccw
  arc A65 (-14.1882, 3.3915) -> (-14.1882, 10.3915) centre (-14.1882, 6.8915) ccw
  point P0 (0, 0)
  point P1 (-9.7823, 53.7283)
  point P2 (-32.5, 24.95)
  point P3 (-30.0981, 79.1605)
  point P4 (-9.1952, 84.1597)
  point P5 (-18.3506, 92.2978)
  point P6 (-22.9418, 91.5556)
  point P7 (-55.8048, 84.1597)
  point P8 (-34.9019, 79.1605)
  point P9 (-42.0582, 91.5556)
  point P10 (-46.6494, 92.2978)
  point P11 (-18.0582, 26.6405)
  point P12 (-48.7097, 6.8915)
  dimension "d78" = 6
  dimension "d72" = 3
  dimension "d73" = 9
  dimension "d74" = 11
  dimension "d75" = 10
  dimension "d76" = 10
  dimension "d77" = 20
  dimension "d79" = 5
  dimension "d80" = 5
extrude "Extrusion8" [suppressed]
sketch "Sketch13" plane through (0, 5, 0) normal (0, 1, 0) x (1, 0, 0)
  line L0 (-38.2, 33.4) -> (-38.2, 18.8) projected
  line L1 (-26.8, 33.4) -> (-26.8, 18.8) projected
  line L2 (-32.5, 18.8) -> (-32.5, 33.4) construction
  line L3 (-26.8, 18.8) -> (-26.8, 33.4)
  line L4 (-38.2, 33.4) -> (-38.2, 18.8)
  arc A0 (-38.2, 18.8) -> (-26.8, 18.8) centre (-32.5, 18.8) ccw
  arc A1 (-26.8, 33.4) -> (-38.2, 33.4) centre (-32.5, 33.4) ccw
  point P0 (0, 0)
  point P1 (-32.5, 26.1)
extrude "Extrusion9" cut sketch "Sketch13" against normal through all
equation "\"d67\" = d66"
equation "\"d69\" = d68"
equation "\"d13\" = d12"
equation "\"d34\" = d33"
properties part number "chassis"
